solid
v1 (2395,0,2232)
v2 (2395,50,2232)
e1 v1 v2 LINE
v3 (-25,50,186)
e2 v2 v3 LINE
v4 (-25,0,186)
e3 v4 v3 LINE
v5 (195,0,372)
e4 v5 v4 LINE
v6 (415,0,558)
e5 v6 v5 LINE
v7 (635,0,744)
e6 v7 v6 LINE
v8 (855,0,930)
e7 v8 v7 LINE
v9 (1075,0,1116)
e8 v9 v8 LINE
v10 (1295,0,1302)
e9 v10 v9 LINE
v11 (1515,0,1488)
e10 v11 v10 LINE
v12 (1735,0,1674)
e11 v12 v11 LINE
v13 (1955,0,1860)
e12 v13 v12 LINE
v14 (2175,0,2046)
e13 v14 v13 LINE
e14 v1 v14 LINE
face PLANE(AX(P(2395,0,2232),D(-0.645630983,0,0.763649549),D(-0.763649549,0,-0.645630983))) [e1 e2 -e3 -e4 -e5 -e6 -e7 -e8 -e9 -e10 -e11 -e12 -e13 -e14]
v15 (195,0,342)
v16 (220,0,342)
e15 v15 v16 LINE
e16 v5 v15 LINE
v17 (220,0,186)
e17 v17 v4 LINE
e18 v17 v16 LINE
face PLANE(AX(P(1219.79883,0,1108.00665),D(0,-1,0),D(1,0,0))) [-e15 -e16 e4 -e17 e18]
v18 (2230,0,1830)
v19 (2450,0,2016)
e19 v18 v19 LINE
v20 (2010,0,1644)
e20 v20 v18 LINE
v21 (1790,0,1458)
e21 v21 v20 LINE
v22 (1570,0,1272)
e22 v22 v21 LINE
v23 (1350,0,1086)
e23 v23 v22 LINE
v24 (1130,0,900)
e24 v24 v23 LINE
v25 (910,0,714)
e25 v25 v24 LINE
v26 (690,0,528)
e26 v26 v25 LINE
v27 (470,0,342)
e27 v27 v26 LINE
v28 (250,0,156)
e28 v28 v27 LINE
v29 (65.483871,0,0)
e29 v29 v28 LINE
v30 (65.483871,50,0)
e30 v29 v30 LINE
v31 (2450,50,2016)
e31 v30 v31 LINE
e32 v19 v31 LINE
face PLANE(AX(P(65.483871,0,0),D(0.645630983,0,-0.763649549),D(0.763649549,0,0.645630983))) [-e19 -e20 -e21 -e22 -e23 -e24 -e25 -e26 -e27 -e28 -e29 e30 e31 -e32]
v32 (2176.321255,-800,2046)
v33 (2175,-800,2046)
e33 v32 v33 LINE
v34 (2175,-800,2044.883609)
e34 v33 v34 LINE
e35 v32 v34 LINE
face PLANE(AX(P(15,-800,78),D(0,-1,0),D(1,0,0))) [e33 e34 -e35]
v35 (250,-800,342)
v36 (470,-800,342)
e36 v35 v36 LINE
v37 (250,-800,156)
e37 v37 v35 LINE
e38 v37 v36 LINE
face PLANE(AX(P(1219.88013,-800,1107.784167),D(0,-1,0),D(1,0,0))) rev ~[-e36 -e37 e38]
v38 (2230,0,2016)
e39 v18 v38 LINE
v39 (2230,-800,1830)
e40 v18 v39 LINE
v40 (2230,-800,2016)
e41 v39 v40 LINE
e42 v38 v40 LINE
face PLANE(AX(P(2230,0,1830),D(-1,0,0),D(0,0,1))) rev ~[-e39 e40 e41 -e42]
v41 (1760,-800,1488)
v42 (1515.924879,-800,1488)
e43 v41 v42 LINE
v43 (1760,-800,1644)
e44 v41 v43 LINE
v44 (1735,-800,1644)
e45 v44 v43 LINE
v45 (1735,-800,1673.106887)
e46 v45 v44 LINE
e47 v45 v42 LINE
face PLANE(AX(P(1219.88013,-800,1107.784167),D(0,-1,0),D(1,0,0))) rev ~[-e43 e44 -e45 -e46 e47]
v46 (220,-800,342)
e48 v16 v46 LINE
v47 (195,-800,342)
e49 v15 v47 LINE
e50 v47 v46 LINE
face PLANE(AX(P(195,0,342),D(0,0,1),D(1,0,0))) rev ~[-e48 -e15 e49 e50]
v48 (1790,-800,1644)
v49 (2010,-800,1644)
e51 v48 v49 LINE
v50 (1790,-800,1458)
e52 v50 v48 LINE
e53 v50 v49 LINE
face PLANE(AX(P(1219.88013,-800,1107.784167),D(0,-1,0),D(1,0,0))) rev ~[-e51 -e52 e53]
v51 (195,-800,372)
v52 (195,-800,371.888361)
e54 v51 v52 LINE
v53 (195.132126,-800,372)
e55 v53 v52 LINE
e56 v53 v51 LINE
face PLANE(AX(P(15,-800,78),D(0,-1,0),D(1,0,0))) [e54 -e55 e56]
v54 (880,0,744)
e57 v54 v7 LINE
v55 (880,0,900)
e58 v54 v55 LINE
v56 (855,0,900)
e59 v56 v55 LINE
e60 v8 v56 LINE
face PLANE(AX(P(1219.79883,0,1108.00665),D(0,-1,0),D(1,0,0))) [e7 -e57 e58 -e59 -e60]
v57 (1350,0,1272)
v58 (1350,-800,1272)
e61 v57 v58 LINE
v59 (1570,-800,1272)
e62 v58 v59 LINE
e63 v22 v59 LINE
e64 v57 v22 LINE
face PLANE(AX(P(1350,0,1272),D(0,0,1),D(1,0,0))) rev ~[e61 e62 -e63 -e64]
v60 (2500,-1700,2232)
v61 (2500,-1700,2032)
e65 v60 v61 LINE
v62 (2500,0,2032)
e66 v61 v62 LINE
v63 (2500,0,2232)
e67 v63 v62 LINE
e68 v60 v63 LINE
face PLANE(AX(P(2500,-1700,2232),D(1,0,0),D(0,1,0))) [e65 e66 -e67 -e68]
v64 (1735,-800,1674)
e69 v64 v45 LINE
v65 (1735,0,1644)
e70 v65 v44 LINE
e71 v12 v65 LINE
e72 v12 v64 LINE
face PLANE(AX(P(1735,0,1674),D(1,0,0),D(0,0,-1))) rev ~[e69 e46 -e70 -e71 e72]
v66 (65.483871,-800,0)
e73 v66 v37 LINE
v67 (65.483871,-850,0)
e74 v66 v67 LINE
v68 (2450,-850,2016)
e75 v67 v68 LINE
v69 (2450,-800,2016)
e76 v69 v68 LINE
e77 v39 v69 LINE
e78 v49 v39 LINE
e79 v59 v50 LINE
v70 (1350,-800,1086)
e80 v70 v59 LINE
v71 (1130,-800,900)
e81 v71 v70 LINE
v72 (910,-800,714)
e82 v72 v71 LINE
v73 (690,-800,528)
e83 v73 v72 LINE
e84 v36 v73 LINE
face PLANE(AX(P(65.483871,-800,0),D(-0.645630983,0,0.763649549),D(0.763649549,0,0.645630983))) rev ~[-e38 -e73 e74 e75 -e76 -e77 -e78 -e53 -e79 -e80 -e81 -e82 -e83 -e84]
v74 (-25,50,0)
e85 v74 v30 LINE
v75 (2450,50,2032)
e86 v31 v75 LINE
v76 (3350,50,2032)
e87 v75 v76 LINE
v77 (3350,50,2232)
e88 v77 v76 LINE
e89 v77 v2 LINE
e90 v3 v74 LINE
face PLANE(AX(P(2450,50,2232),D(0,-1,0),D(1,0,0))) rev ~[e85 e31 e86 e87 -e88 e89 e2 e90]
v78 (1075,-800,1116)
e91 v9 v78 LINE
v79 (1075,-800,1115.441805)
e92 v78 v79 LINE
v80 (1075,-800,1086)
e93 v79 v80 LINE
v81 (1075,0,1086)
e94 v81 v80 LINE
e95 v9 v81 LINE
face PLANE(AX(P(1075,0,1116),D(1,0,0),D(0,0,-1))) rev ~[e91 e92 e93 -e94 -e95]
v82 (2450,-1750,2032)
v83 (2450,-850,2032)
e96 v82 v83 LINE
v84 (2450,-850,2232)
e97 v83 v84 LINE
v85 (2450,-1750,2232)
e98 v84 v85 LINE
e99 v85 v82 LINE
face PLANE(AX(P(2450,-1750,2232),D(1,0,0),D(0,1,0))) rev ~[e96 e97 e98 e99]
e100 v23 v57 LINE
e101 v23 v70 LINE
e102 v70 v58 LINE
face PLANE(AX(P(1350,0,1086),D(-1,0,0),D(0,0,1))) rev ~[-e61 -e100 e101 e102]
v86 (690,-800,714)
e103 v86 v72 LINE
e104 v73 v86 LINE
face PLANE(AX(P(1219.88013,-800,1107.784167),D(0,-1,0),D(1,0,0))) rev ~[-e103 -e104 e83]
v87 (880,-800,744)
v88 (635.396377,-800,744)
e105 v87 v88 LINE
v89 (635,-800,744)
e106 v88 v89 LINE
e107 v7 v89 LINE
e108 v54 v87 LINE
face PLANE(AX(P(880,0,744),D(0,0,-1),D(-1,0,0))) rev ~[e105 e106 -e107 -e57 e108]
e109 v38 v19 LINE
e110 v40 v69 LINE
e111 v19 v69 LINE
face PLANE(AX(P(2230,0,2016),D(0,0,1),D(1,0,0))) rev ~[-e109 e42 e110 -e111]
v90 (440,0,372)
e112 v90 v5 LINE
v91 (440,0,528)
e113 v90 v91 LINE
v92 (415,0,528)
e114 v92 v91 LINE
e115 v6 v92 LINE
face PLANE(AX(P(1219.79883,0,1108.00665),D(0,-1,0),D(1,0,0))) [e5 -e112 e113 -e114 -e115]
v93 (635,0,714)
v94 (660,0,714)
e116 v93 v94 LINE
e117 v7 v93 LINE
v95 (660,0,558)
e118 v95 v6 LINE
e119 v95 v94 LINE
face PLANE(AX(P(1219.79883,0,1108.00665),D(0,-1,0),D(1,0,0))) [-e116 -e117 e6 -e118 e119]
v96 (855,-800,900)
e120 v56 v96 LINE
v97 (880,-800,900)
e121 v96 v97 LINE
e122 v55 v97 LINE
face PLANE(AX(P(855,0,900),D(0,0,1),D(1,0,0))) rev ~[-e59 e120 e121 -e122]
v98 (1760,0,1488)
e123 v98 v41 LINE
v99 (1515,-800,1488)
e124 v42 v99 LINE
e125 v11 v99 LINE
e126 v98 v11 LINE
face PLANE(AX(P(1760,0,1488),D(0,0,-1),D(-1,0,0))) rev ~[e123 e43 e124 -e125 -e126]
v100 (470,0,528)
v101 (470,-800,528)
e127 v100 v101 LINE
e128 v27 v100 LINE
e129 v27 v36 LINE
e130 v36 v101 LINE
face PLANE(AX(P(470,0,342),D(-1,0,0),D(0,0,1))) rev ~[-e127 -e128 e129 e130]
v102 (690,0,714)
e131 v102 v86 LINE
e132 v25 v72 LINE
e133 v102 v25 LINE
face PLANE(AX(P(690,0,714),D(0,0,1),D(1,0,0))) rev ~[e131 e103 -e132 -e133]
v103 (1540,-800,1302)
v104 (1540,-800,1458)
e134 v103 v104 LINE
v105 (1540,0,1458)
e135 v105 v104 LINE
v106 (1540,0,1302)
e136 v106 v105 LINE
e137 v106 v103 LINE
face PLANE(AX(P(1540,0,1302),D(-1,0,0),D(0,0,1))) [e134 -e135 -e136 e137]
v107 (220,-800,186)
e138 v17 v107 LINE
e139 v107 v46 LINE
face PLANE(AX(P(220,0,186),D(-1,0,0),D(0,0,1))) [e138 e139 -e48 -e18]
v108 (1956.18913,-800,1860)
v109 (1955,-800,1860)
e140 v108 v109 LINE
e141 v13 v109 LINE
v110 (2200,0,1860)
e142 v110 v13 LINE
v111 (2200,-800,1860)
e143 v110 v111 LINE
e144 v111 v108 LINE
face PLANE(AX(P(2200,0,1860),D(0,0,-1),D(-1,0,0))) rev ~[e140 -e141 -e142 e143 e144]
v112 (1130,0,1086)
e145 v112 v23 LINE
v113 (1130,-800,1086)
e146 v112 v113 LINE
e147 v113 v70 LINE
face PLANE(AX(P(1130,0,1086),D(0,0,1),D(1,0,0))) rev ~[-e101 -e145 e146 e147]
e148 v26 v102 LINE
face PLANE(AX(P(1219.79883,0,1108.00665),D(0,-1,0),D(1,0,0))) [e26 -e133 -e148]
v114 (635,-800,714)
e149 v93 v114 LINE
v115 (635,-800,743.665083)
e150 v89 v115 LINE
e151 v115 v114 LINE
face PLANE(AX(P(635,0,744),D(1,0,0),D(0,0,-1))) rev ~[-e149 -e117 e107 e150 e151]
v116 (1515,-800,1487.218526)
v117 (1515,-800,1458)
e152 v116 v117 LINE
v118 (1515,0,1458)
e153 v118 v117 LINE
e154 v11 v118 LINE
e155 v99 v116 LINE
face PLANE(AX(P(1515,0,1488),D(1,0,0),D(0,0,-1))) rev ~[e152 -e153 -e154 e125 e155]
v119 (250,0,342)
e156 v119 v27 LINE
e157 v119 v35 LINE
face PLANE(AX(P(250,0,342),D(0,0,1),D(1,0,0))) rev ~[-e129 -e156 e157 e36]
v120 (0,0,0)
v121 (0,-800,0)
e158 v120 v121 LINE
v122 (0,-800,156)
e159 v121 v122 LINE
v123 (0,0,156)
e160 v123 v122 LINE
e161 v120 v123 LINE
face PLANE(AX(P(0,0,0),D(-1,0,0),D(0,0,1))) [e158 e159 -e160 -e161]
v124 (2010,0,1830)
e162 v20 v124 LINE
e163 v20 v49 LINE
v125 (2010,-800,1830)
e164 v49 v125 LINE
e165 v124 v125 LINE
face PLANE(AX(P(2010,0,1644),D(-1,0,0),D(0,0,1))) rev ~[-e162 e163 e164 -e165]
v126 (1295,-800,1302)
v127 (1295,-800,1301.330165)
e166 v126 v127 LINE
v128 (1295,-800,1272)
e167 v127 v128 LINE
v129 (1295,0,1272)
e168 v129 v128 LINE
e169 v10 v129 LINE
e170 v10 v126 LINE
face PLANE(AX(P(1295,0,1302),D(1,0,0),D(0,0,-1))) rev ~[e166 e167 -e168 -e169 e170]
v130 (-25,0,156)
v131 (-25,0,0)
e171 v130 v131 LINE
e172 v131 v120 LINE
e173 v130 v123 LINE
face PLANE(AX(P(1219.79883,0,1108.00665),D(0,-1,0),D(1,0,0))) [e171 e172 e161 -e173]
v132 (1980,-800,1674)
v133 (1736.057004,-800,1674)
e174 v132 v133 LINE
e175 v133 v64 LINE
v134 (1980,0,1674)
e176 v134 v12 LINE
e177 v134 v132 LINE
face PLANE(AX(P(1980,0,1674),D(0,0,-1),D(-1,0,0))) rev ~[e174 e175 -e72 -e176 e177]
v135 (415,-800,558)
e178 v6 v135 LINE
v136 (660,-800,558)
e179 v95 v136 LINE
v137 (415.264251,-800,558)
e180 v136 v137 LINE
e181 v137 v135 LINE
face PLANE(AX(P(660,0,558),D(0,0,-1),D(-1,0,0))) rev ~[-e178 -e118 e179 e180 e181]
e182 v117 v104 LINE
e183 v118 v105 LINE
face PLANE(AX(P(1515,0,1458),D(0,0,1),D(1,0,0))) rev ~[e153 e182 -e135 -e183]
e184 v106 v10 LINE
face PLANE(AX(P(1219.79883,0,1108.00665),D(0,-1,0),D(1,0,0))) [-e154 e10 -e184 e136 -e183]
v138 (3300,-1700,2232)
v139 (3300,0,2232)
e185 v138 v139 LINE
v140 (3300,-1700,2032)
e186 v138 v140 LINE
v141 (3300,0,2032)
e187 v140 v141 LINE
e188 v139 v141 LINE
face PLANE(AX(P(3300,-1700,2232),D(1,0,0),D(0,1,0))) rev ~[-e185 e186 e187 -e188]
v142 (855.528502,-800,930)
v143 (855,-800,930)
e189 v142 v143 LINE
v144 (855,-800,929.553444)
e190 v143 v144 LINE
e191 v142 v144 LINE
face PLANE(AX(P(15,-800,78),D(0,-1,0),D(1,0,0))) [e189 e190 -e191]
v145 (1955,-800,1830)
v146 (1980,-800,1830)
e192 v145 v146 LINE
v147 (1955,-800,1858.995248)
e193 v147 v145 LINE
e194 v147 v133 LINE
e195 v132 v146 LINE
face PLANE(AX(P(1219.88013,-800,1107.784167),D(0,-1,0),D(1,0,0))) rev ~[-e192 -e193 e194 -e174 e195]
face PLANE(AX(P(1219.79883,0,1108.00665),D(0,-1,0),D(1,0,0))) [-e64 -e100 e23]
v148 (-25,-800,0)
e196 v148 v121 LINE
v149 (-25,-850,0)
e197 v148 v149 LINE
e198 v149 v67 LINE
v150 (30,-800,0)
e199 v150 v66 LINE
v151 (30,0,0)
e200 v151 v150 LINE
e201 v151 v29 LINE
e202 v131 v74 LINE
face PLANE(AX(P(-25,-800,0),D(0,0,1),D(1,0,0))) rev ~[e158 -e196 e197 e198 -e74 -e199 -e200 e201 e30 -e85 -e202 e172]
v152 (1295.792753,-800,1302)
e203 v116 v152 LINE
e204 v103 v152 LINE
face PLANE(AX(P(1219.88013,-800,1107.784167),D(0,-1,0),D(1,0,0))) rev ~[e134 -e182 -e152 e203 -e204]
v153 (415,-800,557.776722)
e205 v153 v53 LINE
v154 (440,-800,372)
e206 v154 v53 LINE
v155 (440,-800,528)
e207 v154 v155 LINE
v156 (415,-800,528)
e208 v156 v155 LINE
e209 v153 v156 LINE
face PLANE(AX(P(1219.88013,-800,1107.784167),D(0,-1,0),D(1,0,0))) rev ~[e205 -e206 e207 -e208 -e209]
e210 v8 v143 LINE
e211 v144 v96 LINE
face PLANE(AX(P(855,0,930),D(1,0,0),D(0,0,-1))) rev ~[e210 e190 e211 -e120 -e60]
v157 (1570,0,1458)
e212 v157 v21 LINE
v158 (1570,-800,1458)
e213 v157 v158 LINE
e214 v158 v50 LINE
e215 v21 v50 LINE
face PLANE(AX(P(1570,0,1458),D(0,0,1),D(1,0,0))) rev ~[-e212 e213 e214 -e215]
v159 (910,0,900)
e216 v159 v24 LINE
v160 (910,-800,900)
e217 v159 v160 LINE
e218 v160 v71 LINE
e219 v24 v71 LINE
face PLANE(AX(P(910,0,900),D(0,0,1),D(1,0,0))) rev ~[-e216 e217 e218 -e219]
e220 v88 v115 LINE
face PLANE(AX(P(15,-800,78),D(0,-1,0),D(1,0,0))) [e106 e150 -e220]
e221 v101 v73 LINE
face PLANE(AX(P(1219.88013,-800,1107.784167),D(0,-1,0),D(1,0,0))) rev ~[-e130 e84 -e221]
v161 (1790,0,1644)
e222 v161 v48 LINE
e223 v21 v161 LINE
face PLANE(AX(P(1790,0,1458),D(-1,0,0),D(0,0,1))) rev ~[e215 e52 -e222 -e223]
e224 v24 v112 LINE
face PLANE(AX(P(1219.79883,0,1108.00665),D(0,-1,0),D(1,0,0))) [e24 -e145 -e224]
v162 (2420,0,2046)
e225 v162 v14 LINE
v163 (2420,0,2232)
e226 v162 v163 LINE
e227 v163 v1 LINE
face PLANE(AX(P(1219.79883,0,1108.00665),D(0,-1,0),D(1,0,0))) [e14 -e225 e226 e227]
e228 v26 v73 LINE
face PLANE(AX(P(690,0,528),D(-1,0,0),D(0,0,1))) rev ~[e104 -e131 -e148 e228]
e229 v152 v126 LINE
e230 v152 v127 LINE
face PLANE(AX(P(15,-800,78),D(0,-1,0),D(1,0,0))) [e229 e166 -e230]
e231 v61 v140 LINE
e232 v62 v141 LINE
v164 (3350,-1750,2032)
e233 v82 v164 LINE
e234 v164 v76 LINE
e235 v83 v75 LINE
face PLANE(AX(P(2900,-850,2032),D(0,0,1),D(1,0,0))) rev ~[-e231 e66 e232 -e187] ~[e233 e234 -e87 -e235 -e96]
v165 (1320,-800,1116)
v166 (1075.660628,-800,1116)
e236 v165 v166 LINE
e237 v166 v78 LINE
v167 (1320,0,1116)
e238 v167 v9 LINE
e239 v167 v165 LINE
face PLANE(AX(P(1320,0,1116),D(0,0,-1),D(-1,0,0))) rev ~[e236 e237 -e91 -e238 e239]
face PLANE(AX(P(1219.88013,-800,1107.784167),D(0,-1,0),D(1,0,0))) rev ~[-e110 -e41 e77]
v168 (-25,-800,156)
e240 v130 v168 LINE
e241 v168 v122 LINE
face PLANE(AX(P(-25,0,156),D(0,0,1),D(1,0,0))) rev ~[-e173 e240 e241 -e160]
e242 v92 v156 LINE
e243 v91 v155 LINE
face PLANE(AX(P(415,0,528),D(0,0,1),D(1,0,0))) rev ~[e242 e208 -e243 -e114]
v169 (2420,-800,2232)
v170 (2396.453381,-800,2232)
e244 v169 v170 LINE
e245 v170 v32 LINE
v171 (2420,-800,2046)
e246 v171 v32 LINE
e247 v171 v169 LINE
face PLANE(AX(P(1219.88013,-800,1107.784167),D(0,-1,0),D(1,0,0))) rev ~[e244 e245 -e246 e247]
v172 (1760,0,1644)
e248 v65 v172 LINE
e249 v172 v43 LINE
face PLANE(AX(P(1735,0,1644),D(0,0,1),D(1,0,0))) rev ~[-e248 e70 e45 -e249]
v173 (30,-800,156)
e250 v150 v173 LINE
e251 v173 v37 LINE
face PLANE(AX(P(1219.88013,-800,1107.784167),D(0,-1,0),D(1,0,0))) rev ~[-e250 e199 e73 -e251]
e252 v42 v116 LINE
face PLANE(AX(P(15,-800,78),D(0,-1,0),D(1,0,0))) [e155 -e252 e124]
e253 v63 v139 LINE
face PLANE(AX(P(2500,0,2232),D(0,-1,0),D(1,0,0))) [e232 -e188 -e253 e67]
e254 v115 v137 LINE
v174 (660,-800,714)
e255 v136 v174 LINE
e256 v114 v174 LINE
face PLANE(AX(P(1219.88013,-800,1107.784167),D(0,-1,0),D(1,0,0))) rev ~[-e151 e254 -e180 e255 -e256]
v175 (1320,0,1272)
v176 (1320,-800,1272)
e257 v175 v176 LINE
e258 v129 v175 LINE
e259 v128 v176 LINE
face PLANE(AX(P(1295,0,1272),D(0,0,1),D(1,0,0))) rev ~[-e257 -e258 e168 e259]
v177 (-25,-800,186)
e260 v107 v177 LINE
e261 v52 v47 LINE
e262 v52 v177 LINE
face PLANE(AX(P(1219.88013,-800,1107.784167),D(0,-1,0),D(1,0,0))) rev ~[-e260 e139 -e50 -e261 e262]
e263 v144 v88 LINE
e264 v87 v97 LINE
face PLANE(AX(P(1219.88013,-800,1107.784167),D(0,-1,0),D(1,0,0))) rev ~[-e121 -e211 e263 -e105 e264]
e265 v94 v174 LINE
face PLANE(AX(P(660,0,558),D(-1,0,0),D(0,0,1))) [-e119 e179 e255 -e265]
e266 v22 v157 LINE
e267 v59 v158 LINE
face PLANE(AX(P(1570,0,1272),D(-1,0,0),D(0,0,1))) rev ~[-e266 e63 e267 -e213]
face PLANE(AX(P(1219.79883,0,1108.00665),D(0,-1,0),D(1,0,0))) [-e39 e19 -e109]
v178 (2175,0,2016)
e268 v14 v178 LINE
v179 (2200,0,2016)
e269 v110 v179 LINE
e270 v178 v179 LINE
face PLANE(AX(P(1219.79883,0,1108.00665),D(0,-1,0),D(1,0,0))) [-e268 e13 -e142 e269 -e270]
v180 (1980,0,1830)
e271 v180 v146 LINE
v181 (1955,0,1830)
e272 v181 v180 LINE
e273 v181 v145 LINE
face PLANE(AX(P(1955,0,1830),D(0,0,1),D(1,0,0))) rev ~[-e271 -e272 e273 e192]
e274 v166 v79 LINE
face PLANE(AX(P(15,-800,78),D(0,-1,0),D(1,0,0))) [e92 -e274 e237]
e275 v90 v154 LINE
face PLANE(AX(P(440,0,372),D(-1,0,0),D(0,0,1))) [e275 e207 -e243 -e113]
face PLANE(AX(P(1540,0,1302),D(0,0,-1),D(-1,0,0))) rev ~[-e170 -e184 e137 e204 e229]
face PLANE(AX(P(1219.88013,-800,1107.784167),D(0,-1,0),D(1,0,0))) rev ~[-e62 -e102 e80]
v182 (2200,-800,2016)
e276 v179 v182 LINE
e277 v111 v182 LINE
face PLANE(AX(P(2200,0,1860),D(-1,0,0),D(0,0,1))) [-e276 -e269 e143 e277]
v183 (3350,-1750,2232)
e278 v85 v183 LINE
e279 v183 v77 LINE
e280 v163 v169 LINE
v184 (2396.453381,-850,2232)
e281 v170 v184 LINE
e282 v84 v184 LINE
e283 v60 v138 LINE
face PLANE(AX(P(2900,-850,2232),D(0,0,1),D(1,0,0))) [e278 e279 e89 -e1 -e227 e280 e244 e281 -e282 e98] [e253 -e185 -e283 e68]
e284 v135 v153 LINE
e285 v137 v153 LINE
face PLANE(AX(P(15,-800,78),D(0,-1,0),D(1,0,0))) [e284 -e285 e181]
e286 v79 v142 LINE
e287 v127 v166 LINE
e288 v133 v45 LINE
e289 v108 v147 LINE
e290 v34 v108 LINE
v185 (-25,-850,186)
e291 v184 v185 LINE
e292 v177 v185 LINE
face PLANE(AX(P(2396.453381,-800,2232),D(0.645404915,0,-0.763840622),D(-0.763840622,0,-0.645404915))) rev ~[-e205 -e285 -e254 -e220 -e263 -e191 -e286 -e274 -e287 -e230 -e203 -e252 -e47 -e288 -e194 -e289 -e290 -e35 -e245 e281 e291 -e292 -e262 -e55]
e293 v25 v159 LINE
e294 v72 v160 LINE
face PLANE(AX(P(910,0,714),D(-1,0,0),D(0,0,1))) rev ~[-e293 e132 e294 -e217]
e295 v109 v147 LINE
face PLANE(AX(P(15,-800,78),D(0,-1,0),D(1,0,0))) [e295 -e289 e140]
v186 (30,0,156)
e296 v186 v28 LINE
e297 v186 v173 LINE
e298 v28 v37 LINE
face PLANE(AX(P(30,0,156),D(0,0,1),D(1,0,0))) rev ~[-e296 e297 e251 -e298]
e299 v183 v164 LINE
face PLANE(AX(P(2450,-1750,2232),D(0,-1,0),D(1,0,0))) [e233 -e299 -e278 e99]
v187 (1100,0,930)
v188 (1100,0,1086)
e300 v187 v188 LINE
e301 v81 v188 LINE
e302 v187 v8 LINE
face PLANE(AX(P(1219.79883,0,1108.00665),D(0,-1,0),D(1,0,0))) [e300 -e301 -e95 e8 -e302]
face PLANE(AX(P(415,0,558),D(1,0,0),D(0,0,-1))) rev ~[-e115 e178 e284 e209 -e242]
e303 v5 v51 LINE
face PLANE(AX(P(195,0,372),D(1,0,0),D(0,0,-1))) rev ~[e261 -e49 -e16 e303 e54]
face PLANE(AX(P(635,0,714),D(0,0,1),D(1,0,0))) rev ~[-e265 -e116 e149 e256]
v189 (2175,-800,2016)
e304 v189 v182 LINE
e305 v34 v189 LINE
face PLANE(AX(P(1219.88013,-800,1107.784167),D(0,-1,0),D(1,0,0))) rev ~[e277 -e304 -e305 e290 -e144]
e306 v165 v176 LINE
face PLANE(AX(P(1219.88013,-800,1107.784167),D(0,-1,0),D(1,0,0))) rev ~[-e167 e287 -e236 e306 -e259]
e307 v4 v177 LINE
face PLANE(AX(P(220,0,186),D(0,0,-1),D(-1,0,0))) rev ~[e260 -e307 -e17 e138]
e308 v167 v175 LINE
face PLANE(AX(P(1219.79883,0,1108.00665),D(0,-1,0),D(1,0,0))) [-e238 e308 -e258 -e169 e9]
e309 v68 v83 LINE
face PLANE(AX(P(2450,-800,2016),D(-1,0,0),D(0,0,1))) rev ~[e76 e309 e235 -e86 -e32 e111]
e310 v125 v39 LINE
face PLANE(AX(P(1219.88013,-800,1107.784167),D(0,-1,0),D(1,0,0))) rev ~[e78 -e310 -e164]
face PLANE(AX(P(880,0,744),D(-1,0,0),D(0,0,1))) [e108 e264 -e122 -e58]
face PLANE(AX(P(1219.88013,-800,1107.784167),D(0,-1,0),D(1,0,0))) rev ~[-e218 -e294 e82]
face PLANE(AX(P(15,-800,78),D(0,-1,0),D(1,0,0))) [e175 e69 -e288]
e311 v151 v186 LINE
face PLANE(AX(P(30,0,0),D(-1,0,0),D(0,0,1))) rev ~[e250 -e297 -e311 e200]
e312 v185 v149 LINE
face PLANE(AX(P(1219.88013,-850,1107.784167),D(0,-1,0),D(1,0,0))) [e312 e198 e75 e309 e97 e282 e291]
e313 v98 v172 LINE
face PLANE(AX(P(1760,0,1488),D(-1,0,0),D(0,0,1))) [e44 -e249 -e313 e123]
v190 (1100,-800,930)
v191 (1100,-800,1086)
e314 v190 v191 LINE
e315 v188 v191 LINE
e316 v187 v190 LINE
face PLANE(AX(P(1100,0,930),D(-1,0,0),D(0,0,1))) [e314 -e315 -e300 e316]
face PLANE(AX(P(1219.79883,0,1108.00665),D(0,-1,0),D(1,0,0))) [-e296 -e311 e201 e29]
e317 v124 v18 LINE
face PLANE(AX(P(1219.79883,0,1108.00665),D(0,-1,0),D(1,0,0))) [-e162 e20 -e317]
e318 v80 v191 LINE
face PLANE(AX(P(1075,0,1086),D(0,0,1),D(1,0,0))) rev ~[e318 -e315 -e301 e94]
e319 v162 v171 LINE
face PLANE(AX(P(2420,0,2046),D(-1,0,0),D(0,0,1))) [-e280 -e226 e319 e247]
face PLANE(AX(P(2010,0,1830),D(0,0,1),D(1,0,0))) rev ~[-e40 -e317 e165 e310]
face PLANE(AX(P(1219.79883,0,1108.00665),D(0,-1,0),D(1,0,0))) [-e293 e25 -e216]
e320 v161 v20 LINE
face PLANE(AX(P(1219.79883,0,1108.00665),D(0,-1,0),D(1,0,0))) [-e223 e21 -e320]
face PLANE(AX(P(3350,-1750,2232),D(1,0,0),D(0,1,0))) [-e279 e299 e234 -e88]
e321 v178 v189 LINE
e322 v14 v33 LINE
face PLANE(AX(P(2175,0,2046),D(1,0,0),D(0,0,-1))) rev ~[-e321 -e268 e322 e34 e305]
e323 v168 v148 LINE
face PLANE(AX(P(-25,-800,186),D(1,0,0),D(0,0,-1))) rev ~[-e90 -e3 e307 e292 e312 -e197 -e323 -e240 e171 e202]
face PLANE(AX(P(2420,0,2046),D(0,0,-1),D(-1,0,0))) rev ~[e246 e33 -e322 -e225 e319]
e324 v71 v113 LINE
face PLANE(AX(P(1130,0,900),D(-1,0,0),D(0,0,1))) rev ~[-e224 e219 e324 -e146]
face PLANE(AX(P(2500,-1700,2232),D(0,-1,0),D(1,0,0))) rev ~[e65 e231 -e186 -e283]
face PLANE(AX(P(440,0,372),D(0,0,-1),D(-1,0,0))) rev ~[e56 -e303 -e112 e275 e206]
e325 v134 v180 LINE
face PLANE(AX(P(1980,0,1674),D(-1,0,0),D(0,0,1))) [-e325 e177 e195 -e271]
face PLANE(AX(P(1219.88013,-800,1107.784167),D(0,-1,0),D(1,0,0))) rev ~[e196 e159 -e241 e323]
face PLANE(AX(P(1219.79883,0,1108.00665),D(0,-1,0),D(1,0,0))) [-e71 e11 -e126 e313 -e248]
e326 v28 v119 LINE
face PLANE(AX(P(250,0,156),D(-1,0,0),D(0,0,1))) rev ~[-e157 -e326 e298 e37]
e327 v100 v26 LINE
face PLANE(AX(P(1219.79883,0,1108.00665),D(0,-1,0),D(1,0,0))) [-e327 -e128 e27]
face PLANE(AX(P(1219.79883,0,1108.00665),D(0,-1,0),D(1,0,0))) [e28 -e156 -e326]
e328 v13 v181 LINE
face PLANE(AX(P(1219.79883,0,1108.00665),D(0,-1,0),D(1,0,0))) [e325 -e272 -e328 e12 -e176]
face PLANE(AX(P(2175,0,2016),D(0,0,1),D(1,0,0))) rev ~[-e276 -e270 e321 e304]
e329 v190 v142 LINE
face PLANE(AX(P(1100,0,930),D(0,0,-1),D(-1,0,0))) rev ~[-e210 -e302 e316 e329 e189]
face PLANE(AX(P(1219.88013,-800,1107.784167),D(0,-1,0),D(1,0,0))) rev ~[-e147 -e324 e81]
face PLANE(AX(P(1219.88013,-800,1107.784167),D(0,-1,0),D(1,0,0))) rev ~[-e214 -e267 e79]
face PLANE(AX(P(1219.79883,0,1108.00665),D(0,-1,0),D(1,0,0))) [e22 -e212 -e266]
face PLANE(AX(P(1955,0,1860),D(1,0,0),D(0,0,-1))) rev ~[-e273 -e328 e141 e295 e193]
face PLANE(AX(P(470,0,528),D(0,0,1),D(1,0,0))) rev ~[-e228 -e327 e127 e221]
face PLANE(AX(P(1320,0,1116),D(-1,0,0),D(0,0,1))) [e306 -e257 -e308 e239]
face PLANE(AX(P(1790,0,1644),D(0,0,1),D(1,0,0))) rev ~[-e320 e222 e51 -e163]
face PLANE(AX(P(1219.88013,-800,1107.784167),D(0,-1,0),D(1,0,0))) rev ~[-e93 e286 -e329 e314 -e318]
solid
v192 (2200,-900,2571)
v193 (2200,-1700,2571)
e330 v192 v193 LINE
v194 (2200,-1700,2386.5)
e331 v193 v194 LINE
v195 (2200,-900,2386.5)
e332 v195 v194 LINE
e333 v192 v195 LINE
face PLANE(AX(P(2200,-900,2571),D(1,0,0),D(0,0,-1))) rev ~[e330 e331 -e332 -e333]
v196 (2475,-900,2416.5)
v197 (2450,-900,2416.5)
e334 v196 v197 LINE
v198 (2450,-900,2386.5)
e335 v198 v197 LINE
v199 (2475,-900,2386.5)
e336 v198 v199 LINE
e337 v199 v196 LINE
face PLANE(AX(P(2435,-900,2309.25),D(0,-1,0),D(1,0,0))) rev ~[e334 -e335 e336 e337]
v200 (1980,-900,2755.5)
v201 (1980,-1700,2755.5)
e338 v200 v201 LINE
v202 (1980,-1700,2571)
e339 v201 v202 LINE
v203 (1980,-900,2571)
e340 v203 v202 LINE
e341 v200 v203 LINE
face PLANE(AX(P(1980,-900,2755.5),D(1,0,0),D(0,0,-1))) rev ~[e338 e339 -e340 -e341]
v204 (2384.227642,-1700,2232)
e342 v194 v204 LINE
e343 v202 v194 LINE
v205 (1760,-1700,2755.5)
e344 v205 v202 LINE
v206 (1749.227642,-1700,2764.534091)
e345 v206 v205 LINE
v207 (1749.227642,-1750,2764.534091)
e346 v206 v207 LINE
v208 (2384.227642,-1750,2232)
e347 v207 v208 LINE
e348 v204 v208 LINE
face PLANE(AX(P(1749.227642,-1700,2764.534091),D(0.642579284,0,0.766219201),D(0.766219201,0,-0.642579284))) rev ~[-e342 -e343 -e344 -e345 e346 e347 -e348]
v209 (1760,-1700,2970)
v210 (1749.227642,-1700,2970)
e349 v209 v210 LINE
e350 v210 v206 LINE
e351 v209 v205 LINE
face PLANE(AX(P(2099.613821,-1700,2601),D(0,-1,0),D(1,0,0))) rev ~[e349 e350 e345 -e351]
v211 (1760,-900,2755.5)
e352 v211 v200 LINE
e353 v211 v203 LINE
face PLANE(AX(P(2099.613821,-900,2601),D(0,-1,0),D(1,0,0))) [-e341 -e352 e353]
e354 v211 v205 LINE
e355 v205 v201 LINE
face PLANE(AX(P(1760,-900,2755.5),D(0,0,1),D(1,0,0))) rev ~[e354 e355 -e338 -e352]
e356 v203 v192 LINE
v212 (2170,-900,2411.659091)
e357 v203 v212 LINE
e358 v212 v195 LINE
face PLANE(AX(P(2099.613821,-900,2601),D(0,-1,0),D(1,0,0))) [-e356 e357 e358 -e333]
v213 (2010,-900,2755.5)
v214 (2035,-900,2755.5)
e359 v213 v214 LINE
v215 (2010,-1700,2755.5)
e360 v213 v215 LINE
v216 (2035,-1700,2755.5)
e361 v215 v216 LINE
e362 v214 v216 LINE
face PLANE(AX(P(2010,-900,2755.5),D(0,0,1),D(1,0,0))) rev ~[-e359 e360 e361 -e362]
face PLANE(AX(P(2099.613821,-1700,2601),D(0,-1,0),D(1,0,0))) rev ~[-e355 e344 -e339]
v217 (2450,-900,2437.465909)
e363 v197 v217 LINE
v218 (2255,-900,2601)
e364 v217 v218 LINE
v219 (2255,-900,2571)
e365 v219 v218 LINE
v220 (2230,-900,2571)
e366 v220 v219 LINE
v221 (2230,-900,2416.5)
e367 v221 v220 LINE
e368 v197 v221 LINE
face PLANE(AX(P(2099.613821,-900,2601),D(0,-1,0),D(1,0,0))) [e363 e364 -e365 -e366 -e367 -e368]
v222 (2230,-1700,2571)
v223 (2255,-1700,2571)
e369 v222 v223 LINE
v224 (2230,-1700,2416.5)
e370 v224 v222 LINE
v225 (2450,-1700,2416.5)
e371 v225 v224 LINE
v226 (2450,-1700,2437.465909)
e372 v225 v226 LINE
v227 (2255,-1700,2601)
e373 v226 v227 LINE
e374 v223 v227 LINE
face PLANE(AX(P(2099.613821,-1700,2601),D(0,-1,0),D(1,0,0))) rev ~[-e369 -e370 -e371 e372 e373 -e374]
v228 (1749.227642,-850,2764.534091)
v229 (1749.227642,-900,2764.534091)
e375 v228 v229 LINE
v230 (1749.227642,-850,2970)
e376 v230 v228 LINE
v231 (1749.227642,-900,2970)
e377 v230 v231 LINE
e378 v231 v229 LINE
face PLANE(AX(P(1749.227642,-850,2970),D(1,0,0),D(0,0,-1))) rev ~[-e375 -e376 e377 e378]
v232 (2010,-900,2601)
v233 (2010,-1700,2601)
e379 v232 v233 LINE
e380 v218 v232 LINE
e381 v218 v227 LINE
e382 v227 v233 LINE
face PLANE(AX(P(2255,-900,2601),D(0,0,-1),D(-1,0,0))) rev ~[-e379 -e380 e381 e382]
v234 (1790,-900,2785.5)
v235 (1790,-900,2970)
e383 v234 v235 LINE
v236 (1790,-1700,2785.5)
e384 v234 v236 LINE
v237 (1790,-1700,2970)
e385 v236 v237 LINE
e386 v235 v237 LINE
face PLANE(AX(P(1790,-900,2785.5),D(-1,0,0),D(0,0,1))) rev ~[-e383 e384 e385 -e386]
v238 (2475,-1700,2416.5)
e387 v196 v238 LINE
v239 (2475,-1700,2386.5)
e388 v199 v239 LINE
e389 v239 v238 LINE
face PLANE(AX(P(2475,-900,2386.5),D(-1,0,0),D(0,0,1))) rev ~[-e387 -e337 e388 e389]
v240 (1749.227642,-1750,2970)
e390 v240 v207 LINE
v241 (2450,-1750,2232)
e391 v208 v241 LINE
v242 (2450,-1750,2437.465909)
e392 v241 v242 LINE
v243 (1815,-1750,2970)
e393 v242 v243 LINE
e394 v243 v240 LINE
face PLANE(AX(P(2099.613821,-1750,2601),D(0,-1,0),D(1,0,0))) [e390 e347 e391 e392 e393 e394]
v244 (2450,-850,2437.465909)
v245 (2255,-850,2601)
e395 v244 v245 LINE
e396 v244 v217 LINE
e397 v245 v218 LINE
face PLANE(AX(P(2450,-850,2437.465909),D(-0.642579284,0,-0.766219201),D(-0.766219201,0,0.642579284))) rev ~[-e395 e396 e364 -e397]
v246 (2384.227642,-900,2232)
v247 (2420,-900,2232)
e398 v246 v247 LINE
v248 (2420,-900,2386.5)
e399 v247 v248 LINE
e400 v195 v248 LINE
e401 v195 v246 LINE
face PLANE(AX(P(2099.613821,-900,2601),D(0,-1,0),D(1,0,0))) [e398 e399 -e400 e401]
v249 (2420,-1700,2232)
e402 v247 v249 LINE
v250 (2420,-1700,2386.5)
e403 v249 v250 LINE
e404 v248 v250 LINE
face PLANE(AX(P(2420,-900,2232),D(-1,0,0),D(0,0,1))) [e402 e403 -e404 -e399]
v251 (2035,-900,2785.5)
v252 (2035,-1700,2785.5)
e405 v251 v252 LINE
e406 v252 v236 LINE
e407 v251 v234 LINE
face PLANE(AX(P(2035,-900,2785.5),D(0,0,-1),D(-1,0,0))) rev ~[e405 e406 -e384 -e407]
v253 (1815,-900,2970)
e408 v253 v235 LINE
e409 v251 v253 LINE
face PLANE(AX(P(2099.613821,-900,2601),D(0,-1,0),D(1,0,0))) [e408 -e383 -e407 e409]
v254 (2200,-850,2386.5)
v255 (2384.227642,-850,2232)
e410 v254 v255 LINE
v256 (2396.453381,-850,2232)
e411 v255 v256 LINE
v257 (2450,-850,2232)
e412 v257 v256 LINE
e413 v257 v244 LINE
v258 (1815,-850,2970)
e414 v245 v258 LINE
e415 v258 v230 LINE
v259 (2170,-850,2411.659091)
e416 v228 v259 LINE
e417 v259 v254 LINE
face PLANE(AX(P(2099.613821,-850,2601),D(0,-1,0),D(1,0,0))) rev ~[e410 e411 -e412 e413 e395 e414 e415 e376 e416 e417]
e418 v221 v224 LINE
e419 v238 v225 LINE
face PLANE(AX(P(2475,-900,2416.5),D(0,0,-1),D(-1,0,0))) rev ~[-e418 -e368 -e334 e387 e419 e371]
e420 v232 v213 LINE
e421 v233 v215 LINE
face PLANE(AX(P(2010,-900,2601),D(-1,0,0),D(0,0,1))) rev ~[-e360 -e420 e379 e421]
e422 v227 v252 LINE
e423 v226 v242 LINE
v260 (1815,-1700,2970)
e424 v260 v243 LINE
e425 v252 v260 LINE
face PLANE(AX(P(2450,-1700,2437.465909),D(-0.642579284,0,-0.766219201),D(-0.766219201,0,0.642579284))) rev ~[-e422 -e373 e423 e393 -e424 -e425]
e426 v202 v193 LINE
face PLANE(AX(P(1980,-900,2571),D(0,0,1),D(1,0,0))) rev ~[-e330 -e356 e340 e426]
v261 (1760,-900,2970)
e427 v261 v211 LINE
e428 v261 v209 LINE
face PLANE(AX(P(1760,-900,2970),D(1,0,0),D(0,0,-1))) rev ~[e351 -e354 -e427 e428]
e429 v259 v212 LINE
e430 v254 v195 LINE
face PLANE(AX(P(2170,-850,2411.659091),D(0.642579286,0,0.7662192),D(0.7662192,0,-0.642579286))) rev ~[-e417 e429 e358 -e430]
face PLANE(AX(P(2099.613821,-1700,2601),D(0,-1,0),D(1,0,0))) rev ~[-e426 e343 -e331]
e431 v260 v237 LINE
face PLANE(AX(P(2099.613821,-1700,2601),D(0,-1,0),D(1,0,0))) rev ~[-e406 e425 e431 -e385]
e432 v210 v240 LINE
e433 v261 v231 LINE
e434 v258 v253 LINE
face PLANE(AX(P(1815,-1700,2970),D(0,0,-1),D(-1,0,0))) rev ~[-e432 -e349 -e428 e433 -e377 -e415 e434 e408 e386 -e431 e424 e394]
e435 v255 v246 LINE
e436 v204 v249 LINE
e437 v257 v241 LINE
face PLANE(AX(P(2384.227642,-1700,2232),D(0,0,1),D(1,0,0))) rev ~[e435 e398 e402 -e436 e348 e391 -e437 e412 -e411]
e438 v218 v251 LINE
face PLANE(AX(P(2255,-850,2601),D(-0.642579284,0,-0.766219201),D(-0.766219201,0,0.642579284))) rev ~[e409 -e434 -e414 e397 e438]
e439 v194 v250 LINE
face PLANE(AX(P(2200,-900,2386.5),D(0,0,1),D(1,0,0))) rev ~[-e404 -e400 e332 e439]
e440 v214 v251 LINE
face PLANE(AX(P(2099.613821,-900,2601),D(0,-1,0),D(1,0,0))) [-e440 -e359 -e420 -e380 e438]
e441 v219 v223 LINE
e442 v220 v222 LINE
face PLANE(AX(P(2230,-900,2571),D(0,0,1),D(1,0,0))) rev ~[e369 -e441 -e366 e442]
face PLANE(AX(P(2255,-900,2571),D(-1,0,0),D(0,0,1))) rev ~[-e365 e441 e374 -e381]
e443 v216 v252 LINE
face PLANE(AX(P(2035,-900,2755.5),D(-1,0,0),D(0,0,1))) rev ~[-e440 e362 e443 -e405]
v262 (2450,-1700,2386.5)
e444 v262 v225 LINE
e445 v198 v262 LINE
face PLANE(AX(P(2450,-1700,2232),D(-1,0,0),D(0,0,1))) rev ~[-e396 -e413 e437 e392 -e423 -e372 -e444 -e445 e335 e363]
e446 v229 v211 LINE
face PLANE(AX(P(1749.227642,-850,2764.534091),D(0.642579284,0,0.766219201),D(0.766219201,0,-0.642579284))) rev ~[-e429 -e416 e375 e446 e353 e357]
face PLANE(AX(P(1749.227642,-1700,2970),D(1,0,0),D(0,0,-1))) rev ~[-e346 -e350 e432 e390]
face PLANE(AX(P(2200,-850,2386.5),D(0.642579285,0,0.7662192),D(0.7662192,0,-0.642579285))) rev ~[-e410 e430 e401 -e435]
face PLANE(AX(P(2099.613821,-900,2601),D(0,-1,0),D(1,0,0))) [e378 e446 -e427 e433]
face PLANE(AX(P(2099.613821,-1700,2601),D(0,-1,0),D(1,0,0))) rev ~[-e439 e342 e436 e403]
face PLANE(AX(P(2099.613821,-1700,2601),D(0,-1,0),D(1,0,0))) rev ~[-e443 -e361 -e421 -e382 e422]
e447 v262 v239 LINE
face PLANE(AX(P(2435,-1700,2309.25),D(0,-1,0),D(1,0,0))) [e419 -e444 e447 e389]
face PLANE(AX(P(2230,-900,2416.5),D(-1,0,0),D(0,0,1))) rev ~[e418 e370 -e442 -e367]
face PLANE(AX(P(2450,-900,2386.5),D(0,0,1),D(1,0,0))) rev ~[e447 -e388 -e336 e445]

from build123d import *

# Parameters (mm, degrees)
F0_W      = 30
F0_H      = 156
F0_H_2    = 186
F3_DEPTH  = 800
F5_DEPTH  = 800
F6_DEPTH  = 50
F8_DEPTH  = 50
F9_W      = 900
F9_H      = 1800
F9_W_2    = 800
F9_H_2    = 1700
F10_DEPTH = 200
F12_DEPTH = 50
F13_W     = 30
F13_H     = 154.5
F13_H_2   = 184.5
F14_DEPTH = 800
F16_DEPTH = 50


with BuildPart() as f3:
    # F0 (on Front) → F3 (new body)
    with BuildSketch(Plane.XZ):
        with Locations((15, 78)):
            Rectangle(F0_W, F0_H)
        Polygon((-25, 156), (0, 156), (30, 156), (220, 156), (250, 156), (250, 186), (220, 186), (0, 186), (-25, 186), align=None)
        with Locations((235, 264)):
            Rectangle(F0_W, F0_H)
        Polygon((220, 342), (250, 342), (440, 342), (470, 342), (470, 372), (440, 372), (220, 372), (195, 372), (195, 342), align=None)
        with Locations((455, 450)):
            Rectangle(F0_W, F0_H)
        Polygon((440, 528), (470, 528), (660, 528), (690, 528), (690, 558), (660, 558), (440, 558), (415, 558), (415, 528), align=None)
        with Locations((675, 636)):
            Rectangle(F0_W, F0_H)
        Polygon((660, 714), (690, 714), (880, 714), (910, 714), (910, 744), (880, 744), (660, 744), (635, 744), (635, 714), align=None)
        with Locations((895, 822)):
            Rectangle(F0_W, F0_H)
        Polygon((880, 900), (910, 900), (1100, 900), (1130, 900), (1130, 930), (1100, 930), (880, 930), (855, 930), (855, 900), align=None)
        with Locations((1115, 1008)):
            Rectangle(F0_W, F0_H)
        Polygon((1100, 1086), (1130, 1086), (1320, 1086), (1350, 1086), (1350, 1116), (1320, 1116), (1100, 1116), (1075, 1116), (1075, 1086), align=None)
        with Locations((1335, 1194)):
            Rectangle(F0_W, F0_H)
        Polygon((1320, 1272), (1350, 1272), (1540, 1272), (1570, 1272), (1570, 1302), (1540, 1302), (1320, 1302), (1295, 1302), (1295, 1272), align=None)
        with Locations((1555, 1380)):
            Rectangle(F0_W, F0_H)
        Polygon((1540, 1458), (1570, 1458), (1760, 1458), (1790, 1458), (1790, 1488), (1760, 1488), (1540, 1488), (1515, 1488), (1515, 1458), align=None)
        with Locations((1775, 1566)):
            Rectangle(F0_W, F0_H)
        Polygon((1760, 1644), (1790, 1644), (1980, 1644), (2010, 1644), (2010, 1674), (1980, 1674), (1760, 1674), (1735, 1674), (1735, 1644), align=None)
        with Locations((1995, 1752)):
            Rectangle(F0_W, F0_H)
        Polygon((1980, 1830), (2010, 1830), (2200, 1830), (2230, 1830), (2230, 1860), (2200, 1860), (1980, 1860), (1955, 1860), (1955, 1830), align=None)
        with Locations((2215, 1938)):
            Rectangle(F0_W, F0_H)
        Polygon((2200, 2016), (2230, 2016), (2420, 2016), (2450, 2016), (2450, 2046), (2420, 2046), (2200, 2046), (2175, 2046), (2175, 2016), align=None)
        with Locations((2435, 2139)):
            Rectangle(F0_W, F0_H_2)
    extrude(amount=F3_DEPTH)

    # F0 (on Front) → F5 (join)
    with BuildSketch(Plane.XZ):
        with Locations((15, 78)):
            Rectangle(F0_W, F0_H)
        Polygon((-25, 156), (0, 156), (30, 156), (220, 156), (250, 156), (250, 186), (220, 186), (0, 186), (-25, 186), align=None)
        with Locations((235, 264)):
            Rectangle(F0_W, F0_H)
        Polygon((220, 342), (250, 342), (440, 342), (470, 342), (470, 372), (440, 372), (220, 372), (195, 372), (195, 342), align=None)
        with Locations((455, 450)):
            Rectangle(F0_W, F0_H)
        Polygon((440, 528), (470, 528), (660, 528), (690, 528), (690, 558), (660, 558), (440, 558), (415, 558), (415, 528), align=None)
        with Locations((675, 636)):
            Rectangle(F0_W, F0_H)
        Polygon((660, 714), (690, 714), (880, 714), (910, 714), (910, 744), (880, 744), (660, 744), (635, 744), (635, 714), align=None)
        with Locations((895, 822)):
            Rectangle(F0_W, F0_H)
        Polygon((880, 900), (910, 900), (1100, 900), (1130, 900), (1130, 930), (1100, 930), (880, 930), (855, 930), (855, 900), align=None)
        with Locations((1115, 1008)):
            Rectangle(F0_W, F0_H)
        Polygon((1100, 1086), (1130, 1086), (1320, 1086), (1350, 1086), (1350, 1116), (1320, 1116), (1100, 1116), (1075, 1116), (1075, 1086), align=None)
        with Locations((1335, 1194)):
            Rectangle(F0_W, F0_H)
        Polygon((1320, 1272), (1350, 1272), (1540, 1272), (1570, 1272), (1570, 1302), (1540, 1302), (1320, 1302), (1295, 1302), (1295, 1272), align=None)
        with Locations((1555, 1380)):
            Rectangle(F0_W, F0_H)
        Polygon((1540, 1458), (1570, 1458), (1760, 1458), (1790, 1458), (1790, 1488), (1760, 1488), (1540, 1488), (1515, 1488), (1515, 1458), align=None)
        with Locations((1775, 1566)):
            Rectangle(F0_W, F0_H)
        Polygon((1760, 1644), (1790, 1644), (1980, 1644), (2010, 1644), (2010, 1674), (1980, 1674), (1760, 1674), (1735, 1674), (1735, 1644), align=None)
        with Locations((1995, 1752)):
            Rectangle(F0_W, F0_H)
        Polygon((1980, 1830), (2010, 1830), (2200, 1830), (2230, 1830), (2230, 1860), (2200, 1860), (1980, 1860), (1955, 1860), (1955, 1830), align=None)
        with Locations((2215, 1938)):
            Rectangle(F0_W, F0_H)
        Polygon((2200, 2016), (2230, 2016), (2420, 2016), (2450, 2016), (2450, 2046), (2420, 2046), (2200, 2046), (2175, 2046), (2175, 2016), align=None)
        with Locations((2435, 2139)):
            Rectangle(F0_W, F0_H_2)
    extrude(amount=F5_DEPTH)

    # F4 (on Front) → F6 (join)
    with BuildSketch(Plane.XZ):
        Polygon((2395, 2232), (-25, 186), (-25, 0), (65.483871, 0), (2450, 2016), (2450, 2232), align=None)
    extrude(amount=-F6_DEPTH)

    # F7 (on face) → F8 (join)
    with BuildSketch(Plane.XZ.offset(800)):
        Polygon((65.483871, 0), (2450, 2016), (2450, 2232), (2396.453381, 2232), (-25, 186), (-25, 0), align=None)
    extrude(amount=F8_DEPTH)

    # F9 (on face) → F10 (join)
    with BuildSketch(Plane.XY.offset(2232)):
        with Locations((2900, -850)):
            Rectangle(F9_W, F9_H)
        with Locations((2900, -850)):
            Rectangle(F9_W_2, F9_H_2, mode=Mode.SUBTRACT)
    extrude(amount=-F10_DEPTH)



with BuildPart() as f12:
    # F11 (on face) → F12 (new body)
    with BuildSketch(Plane.XZ.offset(850)):
        Polygon((2420, 2232), (2450, 2232), (2450, 2416.5), (2450, 2437.465909), (2255, 2601), (2035, 2785.5), (1815, 2970), (1790, 2970), (1760, 2970), (1749.227642, 2970), (1749.227642, 2764.534091), (2170, 2411.659091), (2200, 2386.5), (2384.227642, 2232), align=None)
    extrude(amount=F12_DEPTH)


with BuildPart() as f3_1:
    add(f3.part)

    add(f12.part)  # F14 merges F12
    # F13 (on face) → F14 (join)
    with BuildSketch(Plane.XZ.offset(900)):
        with Locations((2435, 2309.25)):
            Rectangle(F13_W, F13_H)
        Polygon((2420, 2386.5), (2450, 2386.5), (2475, 2386.5), (2475, 2416.5), (2450, 2416.5), (2230, 2416.5), (2200, 2416.5), (2200, 2386.5), (2230, 2386.5), align=None)
        with Locations((2215, 2493.75)):
            Rectangle(F13_W, F13_H)
        Polygon((2010, 2571), (2200, 2571), (2230, 2571), (2255, 2571), (2255, 2601), (2230, 2601), (2010, 2601), (1980, 2601), (1980, 2571), align=None)
        with Locations((1995, 2678.25)):
            Rectangle(F13_W, F13_H)
        Polygon((1790, 2755.5), (1980, 2755.5), (2010, 2755.5), (2035, 2755.5), (2035, 2785.5), (2010, 2785.5), (1790, 2785.5), (1760, 2785.5), (1760, 2755.5), align=None)
        with Locations((1775, 2877.75)):
            Rectangle(F13_W, F13_H_2)
    extrude(amount=F14_DEPTH)

    # F15 (on face) → F16 (join)
    with BuildSketch(Plane.XZ.offset(1700)):
        Polygon((2384.227642, 2232), (2450, 2232), (2450, 2437.465909), (1815, 2970), (1749.227642, 2970), (1749.227642, 2764.534091), align=None)
    extrude(amount=F16_DEPTH)


solid = f3_1.part
